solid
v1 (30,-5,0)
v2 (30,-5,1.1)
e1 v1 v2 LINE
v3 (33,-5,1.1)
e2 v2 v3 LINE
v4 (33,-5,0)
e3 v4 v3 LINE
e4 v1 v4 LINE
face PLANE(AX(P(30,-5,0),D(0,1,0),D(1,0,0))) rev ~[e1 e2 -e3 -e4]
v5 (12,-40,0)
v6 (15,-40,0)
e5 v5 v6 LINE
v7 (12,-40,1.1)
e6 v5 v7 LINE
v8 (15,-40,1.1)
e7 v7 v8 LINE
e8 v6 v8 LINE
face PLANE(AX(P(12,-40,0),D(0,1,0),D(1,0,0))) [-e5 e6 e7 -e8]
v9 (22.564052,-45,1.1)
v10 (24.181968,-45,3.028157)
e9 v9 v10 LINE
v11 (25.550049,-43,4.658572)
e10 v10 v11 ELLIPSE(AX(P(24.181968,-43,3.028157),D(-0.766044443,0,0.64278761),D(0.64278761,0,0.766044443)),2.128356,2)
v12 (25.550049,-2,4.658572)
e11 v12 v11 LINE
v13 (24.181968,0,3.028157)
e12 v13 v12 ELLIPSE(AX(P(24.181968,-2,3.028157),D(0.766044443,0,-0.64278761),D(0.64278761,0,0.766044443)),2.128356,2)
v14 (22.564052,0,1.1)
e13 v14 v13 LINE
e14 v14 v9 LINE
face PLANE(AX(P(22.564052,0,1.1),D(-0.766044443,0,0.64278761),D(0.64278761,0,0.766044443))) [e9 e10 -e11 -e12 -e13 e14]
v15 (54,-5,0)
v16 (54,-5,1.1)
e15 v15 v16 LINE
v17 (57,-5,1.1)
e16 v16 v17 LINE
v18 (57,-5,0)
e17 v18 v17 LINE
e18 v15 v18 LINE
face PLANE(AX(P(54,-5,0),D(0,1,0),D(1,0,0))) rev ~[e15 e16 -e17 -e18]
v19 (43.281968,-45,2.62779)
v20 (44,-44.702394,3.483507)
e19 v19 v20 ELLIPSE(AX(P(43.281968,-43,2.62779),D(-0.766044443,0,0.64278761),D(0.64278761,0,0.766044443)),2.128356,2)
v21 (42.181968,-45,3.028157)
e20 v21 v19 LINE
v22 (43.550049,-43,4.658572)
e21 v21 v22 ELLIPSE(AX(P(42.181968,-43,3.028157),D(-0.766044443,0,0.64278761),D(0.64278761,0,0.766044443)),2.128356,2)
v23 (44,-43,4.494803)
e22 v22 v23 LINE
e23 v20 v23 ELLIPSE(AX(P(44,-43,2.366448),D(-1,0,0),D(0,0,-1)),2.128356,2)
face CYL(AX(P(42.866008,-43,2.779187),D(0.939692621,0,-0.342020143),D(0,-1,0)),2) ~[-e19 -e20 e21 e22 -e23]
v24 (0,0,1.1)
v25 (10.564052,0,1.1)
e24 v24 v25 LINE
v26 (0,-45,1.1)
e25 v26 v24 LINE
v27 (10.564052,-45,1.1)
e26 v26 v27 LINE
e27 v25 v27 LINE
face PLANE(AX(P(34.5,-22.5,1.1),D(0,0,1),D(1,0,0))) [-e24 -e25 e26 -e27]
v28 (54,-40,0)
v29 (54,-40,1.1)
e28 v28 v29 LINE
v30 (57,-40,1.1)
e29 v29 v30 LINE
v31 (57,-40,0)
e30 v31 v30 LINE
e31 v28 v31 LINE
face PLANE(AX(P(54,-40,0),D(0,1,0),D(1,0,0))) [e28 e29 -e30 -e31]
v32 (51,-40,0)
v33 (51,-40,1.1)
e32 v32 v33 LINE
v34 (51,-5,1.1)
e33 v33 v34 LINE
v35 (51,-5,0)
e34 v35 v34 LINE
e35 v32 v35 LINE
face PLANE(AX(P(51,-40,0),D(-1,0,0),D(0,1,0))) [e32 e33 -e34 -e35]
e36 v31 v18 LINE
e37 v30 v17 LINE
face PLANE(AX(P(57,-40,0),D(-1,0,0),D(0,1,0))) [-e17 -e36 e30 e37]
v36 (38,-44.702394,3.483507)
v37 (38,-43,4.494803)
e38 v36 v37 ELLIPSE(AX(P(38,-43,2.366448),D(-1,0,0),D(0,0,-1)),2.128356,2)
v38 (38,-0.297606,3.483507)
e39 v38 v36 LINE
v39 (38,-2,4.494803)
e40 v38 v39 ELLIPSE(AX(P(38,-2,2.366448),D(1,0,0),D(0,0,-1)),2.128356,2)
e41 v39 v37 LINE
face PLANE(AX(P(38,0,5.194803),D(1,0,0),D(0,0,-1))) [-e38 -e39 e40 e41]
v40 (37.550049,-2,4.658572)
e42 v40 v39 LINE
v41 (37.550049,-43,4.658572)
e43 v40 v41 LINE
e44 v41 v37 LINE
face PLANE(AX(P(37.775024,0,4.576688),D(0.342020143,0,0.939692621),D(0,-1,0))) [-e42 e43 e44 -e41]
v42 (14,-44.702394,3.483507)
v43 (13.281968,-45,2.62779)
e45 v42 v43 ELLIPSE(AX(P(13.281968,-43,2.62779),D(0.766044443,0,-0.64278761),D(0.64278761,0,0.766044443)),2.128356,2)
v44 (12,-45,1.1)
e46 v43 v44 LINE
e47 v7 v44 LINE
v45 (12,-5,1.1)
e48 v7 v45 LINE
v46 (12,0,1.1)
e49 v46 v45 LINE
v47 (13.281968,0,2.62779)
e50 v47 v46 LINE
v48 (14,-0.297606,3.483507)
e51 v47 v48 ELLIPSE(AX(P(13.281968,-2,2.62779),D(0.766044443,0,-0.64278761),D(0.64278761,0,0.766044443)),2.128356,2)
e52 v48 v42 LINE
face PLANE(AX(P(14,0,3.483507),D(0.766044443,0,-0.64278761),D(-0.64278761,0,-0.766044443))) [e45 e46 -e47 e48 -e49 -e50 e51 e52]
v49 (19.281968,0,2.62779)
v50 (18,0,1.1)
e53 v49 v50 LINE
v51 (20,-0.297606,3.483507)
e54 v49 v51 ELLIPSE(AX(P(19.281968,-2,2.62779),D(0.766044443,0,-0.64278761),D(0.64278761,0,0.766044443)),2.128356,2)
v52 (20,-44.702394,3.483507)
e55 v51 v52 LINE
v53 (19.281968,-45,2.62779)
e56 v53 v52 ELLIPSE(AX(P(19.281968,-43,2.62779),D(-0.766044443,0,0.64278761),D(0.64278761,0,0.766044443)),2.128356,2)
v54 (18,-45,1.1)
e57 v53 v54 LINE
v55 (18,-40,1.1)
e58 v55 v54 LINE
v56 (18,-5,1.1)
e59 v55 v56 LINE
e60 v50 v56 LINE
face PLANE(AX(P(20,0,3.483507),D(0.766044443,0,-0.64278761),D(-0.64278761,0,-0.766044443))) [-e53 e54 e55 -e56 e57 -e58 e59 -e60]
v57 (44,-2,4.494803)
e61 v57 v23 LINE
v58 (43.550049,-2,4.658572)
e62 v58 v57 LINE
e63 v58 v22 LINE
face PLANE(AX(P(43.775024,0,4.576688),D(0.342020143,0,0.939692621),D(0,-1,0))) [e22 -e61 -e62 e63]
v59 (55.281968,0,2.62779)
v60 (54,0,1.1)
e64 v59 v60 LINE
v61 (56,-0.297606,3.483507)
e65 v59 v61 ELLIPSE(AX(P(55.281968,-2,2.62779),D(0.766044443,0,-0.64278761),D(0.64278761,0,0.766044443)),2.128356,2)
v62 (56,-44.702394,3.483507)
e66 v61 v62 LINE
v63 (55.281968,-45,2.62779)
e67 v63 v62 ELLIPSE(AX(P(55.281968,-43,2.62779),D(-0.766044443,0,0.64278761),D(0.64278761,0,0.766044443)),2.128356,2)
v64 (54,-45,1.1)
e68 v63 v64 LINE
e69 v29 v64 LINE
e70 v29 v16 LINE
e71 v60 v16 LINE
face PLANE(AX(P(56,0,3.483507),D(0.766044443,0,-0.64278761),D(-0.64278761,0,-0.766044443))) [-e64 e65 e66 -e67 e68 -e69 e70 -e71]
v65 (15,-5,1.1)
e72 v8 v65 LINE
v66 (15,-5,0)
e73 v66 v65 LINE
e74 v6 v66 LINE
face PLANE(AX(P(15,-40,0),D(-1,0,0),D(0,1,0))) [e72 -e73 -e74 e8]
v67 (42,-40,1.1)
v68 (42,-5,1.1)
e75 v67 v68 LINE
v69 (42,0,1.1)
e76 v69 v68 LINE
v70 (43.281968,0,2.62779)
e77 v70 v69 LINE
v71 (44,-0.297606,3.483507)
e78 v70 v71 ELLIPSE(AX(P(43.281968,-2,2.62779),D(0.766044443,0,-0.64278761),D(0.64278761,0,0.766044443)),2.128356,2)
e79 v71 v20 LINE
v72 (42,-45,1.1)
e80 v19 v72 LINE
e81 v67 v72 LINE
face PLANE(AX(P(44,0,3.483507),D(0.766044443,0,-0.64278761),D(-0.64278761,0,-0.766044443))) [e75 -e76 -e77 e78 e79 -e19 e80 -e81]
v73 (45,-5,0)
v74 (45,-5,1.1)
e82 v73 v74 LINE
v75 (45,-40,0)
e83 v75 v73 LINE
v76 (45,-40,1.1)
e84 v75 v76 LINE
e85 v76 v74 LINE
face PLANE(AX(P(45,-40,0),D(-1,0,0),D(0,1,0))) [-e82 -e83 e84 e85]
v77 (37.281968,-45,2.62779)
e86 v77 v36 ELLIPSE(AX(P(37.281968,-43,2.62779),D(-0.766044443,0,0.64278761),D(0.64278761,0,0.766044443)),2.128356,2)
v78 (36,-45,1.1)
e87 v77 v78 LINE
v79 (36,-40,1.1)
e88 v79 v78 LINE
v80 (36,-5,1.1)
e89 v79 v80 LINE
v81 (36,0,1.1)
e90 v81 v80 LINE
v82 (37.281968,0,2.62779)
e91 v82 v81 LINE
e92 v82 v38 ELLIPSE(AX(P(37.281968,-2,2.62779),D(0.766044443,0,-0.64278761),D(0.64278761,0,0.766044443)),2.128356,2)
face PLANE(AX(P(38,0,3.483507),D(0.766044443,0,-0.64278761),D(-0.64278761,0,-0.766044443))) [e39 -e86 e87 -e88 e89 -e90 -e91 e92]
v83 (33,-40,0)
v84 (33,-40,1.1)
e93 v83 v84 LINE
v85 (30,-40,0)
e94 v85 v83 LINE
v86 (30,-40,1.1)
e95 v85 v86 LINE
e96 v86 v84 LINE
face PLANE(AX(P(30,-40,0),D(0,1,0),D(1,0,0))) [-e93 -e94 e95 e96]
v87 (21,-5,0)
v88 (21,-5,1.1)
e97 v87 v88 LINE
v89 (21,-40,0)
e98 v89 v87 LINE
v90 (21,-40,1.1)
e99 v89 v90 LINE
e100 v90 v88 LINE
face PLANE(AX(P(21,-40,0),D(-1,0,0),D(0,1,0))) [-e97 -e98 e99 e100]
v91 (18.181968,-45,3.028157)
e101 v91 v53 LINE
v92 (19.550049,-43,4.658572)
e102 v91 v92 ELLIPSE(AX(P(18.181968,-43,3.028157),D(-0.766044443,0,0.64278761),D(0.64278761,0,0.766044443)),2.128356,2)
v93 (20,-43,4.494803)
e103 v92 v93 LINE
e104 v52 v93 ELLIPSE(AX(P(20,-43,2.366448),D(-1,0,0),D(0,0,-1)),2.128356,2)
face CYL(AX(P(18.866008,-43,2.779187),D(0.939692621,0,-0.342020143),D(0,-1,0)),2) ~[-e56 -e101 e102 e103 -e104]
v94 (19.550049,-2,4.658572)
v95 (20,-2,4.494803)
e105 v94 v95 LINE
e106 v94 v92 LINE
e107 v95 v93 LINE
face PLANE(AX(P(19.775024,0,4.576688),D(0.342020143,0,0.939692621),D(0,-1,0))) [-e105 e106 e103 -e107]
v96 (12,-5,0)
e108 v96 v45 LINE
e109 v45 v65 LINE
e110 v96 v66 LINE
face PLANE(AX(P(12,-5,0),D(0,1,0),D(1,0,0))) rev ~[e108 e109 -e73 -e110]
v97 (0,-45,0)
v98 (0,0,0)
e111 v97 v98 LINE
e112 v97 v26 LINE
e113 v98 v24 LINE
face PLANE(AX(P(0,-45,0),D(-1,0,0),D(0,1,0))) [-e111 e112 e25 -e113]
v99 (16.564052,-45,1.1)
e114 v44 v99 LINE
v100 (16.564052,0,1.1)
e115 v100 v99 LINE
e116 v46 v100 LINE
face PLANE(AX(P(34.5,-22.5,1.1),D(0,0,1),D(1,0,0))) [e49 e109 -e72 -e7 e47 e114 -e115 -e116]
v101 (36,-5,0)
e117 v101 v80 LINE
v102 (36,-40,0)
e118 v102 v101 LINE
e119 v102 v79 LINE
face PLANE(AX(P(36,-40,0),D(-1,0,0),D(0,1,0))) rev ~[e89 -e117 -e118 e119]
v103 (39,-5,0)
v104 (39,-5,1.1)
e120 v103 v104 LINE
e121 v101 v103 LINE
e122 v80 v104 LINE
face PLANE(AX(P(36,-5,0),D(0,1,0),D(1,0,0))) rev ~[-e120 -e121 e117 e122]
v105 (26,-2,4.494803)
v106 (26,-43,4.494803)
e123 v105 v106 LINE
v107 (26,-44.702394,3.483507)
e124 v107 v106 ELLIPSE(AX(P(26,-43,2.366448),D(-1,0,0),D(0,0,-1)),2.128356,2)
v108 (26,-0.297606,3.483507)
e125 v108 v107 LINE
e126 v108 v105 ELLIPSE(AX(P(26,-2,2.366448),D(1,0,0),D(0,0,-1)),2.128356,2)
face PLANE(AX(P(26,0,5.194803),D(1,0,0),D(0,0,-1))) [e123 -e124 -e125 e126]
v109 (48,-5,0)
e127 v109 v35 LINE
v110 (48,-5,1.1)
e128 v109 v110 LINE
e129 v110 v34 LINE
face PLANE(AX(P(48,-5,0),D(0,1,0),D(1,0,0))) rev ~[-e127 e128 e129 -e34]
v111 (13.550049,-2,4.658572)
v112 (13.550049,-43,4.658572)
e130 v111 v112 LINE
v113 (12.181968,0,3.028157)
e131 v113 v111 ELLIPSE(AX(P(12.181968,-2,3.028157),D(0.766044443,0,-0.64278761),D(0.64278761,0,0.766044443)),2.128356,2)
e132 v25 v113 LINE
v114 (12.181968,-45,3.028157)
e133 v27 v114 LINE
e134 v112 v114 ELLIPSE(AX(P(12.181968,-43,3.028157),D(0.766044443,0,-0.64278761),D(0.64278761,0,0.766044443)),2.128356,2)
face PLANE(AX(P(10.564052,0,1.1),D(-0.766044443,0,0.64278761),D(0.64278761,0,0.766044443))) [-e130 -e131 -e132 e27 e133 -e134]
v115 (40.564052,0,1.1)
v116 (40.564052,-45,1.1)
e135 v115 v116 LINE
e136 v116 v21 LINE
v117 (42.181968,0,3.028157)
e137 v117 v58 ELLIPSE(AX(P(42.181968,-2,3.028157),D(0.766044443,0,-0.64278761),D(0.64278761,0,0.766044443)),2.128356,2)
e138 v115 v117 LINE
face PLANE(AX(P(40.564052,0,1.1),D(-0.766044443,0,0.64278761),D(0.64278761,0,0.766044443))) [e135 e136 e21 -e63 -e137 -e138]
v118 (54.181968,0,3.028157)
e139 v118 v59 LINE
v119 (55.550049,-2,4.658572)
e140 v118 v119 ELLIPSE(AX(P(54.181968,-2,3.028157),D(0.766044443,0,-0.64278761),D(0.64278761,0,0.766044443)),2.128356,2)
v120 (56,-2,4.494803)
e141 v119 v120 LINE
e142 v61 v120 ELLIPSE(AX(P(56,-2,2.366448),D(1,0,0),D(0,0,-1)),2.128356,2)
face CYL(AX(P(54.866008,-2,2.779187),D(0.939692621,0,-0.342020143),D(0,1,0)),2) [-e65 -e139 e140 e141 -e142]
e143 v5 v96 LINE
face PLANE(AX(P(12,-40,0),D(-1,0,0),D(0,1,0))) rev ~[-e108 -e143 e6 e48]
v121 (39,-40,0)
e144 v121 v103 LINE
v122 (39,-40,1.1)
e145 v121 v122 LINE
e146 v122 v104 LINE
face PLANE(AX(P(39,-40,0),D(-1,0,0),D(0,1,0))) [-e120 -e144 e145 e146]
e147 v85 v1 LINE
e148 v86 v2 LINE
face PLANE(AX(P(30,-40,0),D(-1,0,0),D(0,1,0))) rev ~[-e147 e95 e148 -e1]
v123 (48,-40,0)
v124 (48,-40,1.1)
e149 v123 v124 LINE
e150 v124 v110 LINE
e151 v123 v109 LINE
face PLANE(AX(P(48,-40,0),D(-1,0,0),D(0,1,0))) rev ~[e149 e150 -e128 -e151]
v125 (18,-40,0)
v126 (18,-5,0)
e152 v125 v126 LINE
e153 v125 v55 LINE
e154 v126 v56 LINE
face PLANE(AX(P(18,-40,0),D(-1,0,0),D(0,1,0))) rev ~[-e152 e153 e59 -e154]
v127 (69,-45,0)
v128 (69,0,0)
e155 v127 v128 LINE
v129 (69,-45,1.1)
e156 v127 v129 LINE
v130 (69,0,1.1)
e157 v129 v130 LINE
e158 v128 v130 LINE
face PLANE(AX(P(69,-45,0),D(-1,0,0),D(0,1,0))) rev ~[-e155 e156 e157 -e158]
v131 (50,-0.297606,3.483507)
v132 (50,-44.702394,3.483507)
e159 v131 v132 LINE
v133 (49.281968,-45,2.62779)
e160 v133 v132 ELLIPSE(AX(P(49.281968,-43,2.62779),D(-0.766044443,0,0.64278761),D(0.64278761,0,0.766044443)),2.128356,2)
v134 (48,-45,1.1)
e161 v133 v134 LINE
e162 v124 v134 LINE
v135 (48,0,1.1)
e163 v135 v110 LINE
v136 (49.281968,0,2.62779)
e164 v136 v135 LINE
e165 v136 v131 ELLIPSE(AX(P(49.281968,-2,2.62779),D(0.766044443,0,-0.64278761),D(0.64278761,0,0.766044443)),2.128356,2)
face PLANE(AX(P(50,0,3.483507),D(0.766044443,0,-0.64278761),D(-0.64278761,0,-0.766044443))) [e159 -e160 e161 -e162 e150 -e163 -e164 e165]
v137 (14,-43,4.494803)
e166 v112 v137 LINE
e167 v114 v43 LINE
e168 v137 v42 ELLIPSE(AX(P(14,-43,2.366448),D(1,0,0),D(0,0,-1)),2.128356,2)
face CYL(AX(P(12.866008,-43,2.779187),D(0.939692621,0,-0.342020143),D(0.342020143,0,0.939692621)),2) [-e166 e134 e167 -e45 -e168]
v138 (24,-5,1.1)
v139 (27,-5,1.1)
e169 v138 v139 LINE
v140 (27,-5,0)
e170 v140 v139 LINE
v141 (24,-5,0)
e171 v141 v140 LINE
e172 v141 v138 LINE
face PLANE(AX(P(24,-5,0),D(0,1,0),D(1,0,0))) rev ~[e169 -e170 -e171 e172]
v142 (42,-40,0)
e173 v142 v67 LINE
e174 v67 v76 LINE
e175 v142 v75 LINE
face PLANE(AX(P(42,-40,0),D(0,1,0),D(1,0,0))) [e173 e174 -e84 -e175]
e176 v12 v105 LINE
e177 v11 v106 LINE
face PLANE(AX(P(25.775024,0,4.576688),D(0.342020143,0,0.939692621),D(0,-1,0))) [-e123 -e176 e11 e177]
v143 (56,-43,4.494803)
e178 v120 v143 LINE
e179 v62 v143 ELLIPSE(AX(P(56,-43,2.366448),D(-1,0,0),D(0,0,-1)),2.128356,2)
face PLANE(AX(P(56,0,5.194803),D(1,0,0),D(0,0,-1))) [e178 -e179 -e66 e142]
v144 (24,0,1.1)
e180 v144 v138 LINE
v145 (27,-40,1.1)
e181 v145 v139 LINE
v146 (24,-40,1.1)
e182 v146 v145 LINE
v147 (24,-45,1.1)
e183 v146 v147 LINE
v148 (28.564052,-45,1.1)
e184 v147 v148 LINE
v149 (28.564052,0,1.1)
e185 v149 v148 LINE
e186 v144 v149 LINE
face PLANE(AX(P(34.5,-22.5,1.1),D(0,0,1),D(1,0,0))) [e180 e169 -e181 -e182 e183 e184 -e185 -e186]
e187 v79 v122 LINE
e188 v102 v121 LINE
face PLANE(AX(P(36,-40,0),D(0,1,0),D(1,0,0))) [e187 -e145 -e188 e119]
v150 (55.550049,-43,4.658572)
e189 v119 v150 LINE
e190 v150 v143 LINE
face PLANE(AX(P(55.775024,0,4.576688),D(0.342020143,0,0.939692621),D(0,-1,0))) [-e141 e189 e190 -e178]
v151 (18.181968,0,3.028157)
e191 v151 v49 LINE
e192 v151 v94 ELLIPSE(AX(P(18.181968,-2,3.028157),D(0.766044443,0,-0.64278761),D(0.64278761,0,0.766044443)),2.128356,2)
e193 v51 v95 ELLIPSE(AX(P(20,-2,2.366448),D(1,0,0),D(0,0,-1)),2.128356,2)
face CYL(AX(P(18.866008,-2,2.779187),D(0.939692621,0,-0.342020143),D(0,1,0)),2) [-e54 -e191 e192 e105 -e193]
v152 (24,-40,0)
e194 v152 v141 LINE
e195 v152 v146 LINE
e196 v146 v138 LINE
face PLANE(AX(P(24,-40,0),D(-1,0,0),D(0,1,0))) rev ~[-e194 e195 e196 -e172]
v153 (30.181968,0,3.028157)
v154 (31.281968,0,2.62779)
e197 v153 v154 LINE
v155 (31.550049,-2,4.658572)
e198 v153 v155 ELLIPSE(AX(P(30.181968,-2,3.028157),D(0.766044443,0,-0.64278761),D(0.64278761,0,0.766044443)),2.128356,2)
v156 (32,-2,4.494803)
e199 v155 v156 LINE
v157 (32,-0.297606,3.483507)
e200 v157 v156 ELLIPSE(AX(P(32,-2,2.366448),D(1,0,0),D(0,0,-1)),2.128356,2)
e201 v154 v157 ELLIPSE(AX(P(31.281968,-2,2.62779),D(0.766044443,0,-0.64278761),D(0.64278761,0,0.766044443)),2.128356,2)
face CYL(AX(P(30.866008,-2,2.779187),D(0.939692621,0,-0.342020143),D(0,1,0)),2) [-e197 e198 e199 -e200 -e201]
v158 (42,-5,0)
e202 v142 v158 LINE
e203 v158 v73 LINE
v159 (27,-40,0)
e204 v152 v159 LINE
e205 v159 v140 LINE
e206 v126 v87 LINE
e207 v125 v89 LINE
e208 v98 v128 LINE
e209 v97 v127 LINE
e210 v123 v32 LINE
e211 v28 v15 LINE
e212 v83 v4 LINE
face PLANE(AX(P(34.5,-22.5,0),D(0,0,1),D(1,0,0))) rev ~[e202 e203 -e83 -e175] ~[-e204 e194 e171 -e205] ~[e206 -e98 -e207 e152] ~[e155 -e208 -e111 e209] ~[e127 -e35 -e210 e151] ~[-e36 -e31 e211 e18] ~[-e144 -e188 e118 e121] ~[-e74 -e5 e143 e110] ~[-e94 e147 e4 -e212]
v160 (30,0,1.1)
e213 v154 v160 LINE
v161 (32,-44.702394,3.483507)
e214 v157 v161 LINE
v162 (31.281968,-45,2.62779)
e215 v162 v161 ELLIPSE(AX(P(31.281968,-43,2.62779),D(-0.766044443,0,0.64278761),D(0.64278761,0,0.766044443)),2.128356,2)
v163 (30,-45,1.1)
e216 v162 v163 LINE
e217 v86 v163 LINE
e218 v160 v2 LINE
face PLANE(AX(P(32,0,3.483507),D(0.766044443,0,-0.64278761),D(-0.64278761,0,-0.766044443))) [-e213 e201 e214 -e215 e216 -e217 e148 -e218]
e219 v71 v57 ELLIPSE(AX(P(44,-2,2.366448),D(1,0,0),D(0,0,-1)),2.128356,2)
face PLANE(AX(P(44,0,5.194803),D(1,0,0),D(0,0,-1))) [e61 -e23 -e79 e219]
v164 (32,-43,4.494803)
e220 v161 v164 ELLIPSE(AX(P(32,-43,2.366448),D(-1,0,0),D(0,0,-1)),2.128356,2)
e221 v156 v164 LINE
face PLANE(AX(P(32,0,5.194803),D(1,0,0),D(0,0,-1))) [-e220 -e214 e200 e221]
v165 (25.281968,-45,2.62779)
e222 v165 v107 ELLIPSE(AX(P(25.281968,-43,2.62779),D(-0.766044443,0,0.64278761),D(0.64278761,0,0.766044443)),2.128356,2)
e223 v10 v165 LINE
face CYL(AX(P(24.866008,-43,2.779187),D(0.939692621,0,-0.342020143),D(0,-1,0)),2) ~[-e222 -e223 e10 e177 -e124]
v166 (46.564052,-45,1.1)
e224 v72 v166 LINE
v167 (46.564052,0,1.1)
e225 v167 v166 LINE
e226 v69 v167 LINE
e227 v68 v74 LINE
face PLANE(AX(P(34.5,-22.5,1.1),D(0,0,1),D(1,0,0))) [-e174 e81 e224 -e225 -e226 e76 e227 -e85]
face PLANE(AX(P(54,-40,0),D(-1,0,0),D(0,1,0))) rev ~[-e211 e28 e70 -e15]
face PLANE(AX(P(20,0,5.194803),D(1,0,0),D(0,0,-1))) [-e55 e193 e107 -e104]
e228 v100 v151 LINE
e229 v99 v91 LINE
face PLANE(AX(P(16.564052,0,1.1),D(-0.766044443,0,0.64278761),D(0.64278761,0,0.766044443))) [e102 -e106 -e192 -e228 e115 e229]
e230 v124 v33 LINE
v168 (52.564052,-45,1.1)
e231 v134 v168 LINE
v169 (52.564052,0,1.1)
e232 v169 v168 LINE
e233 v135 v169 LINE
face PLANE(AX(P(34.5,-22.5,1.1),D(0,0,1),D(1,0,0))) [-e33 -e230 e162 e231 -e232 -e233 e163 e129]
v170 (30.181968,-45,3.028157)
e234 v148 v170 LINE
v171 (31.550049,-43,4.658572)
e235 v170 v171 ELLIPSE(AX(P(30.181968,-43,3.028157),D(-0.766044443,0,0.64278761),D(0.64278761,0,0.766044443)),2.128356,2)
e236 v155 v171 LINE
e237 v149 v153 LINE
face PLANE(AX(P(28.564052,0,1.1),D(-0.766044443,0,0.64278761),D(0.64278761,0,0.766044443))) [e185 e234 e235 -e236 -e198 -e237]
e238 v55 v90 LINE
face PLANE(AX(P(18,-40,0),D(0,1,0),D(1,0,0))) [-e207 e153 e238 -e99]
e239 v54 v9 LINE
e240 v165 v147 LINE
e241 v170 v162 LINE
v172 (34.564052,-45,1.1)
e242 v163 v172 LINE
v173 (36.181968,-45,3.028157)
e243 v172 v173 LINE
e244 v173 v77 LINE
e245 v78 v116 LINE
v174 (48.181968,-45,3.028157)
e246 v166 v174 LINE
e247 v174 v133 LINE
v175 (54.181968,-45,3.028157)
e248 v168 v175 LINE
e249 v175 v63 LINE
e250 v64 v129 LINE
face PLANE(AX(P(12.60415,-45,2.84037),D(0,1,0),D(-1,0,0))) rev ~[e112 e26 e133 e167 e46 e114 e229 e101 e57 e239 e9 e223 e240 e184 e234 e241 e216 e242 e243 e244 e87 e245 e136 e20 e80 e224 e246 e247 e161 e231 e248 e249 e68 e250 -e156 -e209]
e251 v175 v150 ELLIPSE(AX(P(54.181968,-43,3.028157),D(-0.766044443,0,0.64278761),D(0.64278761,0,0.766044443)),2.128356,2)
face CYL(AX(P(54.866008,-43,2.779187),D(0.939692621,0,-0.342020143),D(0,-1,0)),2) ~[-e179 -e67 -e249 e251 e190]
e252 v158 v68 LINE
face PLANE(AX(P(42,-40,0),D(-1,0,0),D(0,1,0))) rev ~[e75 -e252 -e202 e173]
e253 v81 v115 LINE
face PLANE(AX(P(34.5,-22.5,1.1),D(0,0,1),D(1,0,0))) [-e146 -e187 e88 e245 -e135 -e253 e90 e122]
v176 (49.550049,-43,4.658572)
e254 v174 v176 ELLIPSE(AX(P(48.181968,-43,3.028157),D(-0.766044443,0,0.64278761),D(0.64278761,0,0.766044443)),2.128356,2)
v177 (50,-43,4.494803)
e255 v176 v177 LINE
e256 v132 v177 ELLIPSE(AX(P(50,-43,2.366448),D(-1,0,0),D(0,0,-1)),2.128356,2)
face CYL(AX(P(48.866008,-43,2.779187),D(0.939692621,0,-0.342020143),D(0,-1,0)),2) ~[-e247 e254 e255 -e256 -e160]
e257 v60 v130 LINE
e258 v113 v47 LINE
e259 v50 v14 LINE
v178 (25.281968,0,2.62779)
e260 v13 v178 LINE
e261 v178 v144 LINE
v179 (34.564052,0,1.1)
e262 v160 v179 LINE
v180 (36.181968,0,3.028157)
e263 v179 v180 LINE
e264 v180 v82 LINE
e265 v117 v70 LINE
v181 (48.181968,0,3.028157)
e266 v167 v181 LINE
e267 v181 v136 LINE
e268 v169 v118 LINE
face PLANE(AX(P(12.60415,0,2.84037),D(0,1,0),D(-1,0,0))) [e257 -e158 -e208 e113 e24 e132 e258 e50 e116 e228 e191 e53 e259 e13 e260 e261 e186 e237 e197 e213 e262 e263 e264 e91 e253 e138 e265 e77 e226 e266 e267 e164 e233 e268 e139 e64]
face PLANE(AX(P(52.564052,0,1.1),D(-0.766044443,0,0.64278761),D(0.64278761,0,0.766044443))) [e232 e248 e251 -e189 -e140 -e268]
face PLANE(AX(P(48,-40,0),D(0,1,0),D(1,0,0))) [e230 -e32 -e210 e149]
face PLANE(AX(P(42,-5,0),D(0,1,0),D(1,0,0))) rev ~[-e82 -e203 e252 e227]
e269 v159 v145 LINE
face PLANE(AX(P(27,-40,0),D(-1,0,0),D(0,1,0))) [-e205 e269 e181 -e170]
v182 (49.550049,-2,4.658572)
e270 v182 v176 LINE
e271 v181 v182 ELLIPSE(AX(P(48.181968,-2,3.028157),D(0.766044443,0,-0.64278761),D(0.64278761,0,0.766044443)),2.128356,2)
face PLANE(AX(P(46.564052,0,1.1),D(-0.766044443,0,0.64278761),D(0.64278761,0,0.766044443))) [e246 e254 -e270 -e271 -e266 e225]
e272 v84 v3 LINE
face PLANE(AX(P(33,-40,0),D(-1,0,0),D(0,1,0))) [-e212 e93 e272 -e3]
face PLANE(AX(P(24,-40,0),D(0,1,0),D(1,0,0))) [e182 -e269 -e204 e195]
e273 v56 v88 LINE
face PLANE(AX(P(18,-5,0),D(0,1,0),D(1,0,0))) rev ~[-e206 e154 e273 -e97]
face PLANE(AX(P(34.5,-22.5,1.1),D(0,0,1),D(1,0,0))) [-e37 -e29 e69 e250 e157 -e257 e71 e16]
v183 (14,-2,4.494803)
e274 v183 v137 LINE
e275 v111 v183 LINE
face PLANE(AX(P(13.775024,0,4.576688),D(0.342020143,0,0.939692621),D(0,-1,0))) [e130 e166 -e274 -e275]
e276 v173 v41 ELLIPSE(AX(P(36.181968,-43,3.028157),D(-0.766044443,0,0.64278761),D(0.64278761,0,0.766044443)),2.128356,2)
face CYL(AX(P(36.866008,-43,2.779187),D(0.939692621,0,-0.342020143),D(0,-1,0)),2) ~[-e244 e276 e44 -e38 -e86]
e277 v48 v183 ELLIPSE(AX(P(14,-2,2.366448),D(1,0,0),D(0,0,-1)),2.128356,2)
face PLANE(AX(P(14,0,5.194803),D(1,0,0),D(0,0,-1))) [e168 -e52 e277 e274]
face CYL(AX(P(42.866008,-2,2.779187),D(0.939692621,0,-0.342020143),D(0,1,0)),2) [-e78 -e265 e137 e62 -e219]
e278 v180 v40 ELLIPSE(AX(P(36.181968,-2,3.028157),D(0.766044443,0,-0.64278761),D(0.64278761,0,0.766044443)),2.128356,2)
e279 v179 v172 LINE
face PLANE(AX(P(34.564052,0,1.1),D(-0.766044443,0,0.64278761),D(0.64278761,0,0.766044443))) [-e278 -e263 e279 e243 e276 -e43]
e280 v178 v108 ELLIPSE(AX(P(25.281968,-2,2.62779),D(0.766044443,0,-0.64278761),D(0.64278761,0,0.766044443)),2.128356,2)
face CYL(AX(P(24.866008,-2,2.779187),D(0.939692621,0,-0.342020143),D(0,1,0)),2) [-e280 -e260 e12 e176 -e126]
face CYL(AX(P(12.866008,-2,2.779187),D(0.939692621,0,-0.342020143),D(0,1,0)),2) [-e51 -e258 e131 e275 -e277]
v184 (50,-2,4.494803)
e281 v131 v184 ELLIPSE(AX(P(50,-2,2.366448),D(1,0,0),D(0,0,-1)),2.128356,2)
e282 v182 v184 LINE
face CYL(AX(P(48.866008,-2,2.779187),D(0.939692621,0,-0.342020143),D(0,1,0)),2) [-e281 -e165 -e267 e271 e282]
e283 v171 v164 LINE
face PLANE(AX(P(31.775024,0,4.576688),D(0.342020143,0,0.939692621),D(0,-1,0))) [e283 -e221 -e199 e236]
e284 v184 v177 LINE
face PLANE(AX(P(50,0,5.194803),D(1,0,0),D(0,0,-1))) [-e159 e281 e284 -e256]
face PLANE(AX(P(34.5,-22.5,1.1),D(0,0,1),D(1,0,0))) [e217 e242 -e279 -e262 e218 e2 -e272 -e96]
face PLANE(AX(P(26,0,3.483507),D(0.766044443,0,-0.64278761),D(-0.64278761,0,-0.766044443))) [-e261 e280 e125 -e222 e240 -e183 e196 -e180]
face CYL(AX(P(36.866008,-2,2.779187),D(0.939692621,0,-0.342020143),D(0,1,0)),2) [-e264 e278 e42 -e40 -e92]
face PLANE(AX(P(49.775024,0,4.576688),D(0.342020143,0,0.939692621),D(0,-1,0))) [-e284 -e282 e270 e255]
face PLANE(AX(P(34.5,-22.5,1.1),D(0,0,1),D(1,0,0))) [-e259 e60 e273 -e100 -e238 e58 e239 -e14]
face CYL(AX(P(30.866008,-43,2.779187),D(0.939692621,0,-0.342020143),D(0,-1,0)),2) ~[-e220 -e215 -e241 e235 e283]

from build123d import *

# Parameters (mm, degrees)
F0_W     = 69
F0_H     = 45
F0_W_2   = 3
F0_H_2   = 35
F1_DEPTH = 1.1
F3_DEPTH = 45
F4_SIZE  = 0.7
F5_R     = 2


with BuildPart() as f1:
    # F0 (on Top) → F1 (new body)
    with BuildSketch(Plane.XY):
        with Locations((34.5, -22.5)):
            Rectangle(F0_W, F0_H)
        with Locations((13.5, -22.5)):
            Rectangle(F0_W_2, F0_H_2, mode=Mode.SUBTRACT)
        with Locations((19.5, -22.5)):
            Rectangle(F0_W_2, F0_H_2, mode=Mode.SUBTRACT)
        with Locations((25.5, -22.5)):
            Rectangle(F0_W_2, F0_H_2, mode=Mode.SUBTRACT)
        with Locations((31.5, -22.5)):
            Rectangle(F0_W_2, F0_H_2, mode=Mode.SUBTRACT)
        with Locations((37.5, -22.5)):
            Rectangle(F0_W_2, F0_H_2, mode=Mode.SUBTRACT)
        with Locations((43.5, -22.5)):
            Rectangle(F0_W_2, F0_H_2, mode=Mode.SUBTRACT)
        with Locations((49.5, -22.5)):
            Rectangle(F0_W_2, F0_H_2, mode=Mode.SUBTRACT)
        with Locations((55.5, -22.5)):
            Rectangle(F0_W_2, F0_H_2, mode=Mode.SUBTRACT)
    extrude(amount=F1_DEPTH)

    # F2 (on face) → F3 (join, through all)
    with BuildSketch(Plane(origin=(0, 0, 0), x_dir=(-1, 0, 0), z_dir=(0, 1, 0))):
        Polygon((-12, 1.1), (-10.5640519817, 1.1), (-14, 5.1948033947), (-14, 3.4835071852), align=None)
        Polygon((-18, 1.1), (-16.5640519817, 1.1), (-20, 5.1948033947), (-20, 3.4835071852), align=None)
        Polygon((-24, 1.1), (-22.5640519817, 1.1), (-26, 5.1948033947), (-26, 3.4835071852), align=None)
        Polygon((-32, 3.4835071852), (-30, 1.1), (-28.5640519817, 1.1), (-32, 5.1948033947), align=None)
        Polygon((-38, 3.4835071852), (-36, 1.1), (-34.5640519817, 1.1), (-38, 5.1948033947), align=None)
        Polygon((-44, 3.4835071852), (-42, 1.1), (-40.5640519817, 1.1), (-44, 5.1948033947), align=None)
        Polygon((-50, 3.4835071852), (-48, 1.1), (-46.5640519817, 1.1), (-50, 5.1948033947), align=None)
        Polygon((-56, 3.4835071852), (-54, 1.1), (-52.5640519817, 1.1), (-56, 5.1948033947), align=None)
    extrude(amount=-F3_DEPTH)

    # F4
    f4_edges = [f1.edges().sort_by_distance(p)[0] for p in [
        (14, -22.5, 5.194803),
        (20, -22.5, 5.194803),
        (26, -22.5, 5.194803),
        (32, -22.5, 5.194803),
        (38, -22.5, 5.194803),
        (44, -22.5, 5.194803),
        (50, -22.5, 5.194803),
        (56, -22.5, 5.194803),
    ]]
    chamfer(f4_edges, length=F4_SIZE)

    # F5
    f5_edges = [f1.edges().sort_by_distance(p)[0] for p in [
        (25.775024, -45, 4.576688),
        (13.775024, -45, 4.576688),
        (19.775024, -45, 4.576688),
        (31.775024, -45, 4.576688),
        (37.775024, -45, 4.576688),
        (43.775024, -45, 4.576688),
        (49.775024, -45, 4.576688),
        (55.775024, -45, 4.576688),
        (13.775024, 0, 4.576688),
        (19.775024, 0, 4.576688),
        (25.775024, 0, 4.576688),
        (31.775024, 0, 4.576688),
        (37.775024, 0, 4.576688),
        (43.775024, 0, 4.576688),
        (49.775024, 0, 4.576688),
        (55.775024, 0, 4.576688),
    ]]
    fillet(f5_edges, radius=F5_R)


solid = f1.part
